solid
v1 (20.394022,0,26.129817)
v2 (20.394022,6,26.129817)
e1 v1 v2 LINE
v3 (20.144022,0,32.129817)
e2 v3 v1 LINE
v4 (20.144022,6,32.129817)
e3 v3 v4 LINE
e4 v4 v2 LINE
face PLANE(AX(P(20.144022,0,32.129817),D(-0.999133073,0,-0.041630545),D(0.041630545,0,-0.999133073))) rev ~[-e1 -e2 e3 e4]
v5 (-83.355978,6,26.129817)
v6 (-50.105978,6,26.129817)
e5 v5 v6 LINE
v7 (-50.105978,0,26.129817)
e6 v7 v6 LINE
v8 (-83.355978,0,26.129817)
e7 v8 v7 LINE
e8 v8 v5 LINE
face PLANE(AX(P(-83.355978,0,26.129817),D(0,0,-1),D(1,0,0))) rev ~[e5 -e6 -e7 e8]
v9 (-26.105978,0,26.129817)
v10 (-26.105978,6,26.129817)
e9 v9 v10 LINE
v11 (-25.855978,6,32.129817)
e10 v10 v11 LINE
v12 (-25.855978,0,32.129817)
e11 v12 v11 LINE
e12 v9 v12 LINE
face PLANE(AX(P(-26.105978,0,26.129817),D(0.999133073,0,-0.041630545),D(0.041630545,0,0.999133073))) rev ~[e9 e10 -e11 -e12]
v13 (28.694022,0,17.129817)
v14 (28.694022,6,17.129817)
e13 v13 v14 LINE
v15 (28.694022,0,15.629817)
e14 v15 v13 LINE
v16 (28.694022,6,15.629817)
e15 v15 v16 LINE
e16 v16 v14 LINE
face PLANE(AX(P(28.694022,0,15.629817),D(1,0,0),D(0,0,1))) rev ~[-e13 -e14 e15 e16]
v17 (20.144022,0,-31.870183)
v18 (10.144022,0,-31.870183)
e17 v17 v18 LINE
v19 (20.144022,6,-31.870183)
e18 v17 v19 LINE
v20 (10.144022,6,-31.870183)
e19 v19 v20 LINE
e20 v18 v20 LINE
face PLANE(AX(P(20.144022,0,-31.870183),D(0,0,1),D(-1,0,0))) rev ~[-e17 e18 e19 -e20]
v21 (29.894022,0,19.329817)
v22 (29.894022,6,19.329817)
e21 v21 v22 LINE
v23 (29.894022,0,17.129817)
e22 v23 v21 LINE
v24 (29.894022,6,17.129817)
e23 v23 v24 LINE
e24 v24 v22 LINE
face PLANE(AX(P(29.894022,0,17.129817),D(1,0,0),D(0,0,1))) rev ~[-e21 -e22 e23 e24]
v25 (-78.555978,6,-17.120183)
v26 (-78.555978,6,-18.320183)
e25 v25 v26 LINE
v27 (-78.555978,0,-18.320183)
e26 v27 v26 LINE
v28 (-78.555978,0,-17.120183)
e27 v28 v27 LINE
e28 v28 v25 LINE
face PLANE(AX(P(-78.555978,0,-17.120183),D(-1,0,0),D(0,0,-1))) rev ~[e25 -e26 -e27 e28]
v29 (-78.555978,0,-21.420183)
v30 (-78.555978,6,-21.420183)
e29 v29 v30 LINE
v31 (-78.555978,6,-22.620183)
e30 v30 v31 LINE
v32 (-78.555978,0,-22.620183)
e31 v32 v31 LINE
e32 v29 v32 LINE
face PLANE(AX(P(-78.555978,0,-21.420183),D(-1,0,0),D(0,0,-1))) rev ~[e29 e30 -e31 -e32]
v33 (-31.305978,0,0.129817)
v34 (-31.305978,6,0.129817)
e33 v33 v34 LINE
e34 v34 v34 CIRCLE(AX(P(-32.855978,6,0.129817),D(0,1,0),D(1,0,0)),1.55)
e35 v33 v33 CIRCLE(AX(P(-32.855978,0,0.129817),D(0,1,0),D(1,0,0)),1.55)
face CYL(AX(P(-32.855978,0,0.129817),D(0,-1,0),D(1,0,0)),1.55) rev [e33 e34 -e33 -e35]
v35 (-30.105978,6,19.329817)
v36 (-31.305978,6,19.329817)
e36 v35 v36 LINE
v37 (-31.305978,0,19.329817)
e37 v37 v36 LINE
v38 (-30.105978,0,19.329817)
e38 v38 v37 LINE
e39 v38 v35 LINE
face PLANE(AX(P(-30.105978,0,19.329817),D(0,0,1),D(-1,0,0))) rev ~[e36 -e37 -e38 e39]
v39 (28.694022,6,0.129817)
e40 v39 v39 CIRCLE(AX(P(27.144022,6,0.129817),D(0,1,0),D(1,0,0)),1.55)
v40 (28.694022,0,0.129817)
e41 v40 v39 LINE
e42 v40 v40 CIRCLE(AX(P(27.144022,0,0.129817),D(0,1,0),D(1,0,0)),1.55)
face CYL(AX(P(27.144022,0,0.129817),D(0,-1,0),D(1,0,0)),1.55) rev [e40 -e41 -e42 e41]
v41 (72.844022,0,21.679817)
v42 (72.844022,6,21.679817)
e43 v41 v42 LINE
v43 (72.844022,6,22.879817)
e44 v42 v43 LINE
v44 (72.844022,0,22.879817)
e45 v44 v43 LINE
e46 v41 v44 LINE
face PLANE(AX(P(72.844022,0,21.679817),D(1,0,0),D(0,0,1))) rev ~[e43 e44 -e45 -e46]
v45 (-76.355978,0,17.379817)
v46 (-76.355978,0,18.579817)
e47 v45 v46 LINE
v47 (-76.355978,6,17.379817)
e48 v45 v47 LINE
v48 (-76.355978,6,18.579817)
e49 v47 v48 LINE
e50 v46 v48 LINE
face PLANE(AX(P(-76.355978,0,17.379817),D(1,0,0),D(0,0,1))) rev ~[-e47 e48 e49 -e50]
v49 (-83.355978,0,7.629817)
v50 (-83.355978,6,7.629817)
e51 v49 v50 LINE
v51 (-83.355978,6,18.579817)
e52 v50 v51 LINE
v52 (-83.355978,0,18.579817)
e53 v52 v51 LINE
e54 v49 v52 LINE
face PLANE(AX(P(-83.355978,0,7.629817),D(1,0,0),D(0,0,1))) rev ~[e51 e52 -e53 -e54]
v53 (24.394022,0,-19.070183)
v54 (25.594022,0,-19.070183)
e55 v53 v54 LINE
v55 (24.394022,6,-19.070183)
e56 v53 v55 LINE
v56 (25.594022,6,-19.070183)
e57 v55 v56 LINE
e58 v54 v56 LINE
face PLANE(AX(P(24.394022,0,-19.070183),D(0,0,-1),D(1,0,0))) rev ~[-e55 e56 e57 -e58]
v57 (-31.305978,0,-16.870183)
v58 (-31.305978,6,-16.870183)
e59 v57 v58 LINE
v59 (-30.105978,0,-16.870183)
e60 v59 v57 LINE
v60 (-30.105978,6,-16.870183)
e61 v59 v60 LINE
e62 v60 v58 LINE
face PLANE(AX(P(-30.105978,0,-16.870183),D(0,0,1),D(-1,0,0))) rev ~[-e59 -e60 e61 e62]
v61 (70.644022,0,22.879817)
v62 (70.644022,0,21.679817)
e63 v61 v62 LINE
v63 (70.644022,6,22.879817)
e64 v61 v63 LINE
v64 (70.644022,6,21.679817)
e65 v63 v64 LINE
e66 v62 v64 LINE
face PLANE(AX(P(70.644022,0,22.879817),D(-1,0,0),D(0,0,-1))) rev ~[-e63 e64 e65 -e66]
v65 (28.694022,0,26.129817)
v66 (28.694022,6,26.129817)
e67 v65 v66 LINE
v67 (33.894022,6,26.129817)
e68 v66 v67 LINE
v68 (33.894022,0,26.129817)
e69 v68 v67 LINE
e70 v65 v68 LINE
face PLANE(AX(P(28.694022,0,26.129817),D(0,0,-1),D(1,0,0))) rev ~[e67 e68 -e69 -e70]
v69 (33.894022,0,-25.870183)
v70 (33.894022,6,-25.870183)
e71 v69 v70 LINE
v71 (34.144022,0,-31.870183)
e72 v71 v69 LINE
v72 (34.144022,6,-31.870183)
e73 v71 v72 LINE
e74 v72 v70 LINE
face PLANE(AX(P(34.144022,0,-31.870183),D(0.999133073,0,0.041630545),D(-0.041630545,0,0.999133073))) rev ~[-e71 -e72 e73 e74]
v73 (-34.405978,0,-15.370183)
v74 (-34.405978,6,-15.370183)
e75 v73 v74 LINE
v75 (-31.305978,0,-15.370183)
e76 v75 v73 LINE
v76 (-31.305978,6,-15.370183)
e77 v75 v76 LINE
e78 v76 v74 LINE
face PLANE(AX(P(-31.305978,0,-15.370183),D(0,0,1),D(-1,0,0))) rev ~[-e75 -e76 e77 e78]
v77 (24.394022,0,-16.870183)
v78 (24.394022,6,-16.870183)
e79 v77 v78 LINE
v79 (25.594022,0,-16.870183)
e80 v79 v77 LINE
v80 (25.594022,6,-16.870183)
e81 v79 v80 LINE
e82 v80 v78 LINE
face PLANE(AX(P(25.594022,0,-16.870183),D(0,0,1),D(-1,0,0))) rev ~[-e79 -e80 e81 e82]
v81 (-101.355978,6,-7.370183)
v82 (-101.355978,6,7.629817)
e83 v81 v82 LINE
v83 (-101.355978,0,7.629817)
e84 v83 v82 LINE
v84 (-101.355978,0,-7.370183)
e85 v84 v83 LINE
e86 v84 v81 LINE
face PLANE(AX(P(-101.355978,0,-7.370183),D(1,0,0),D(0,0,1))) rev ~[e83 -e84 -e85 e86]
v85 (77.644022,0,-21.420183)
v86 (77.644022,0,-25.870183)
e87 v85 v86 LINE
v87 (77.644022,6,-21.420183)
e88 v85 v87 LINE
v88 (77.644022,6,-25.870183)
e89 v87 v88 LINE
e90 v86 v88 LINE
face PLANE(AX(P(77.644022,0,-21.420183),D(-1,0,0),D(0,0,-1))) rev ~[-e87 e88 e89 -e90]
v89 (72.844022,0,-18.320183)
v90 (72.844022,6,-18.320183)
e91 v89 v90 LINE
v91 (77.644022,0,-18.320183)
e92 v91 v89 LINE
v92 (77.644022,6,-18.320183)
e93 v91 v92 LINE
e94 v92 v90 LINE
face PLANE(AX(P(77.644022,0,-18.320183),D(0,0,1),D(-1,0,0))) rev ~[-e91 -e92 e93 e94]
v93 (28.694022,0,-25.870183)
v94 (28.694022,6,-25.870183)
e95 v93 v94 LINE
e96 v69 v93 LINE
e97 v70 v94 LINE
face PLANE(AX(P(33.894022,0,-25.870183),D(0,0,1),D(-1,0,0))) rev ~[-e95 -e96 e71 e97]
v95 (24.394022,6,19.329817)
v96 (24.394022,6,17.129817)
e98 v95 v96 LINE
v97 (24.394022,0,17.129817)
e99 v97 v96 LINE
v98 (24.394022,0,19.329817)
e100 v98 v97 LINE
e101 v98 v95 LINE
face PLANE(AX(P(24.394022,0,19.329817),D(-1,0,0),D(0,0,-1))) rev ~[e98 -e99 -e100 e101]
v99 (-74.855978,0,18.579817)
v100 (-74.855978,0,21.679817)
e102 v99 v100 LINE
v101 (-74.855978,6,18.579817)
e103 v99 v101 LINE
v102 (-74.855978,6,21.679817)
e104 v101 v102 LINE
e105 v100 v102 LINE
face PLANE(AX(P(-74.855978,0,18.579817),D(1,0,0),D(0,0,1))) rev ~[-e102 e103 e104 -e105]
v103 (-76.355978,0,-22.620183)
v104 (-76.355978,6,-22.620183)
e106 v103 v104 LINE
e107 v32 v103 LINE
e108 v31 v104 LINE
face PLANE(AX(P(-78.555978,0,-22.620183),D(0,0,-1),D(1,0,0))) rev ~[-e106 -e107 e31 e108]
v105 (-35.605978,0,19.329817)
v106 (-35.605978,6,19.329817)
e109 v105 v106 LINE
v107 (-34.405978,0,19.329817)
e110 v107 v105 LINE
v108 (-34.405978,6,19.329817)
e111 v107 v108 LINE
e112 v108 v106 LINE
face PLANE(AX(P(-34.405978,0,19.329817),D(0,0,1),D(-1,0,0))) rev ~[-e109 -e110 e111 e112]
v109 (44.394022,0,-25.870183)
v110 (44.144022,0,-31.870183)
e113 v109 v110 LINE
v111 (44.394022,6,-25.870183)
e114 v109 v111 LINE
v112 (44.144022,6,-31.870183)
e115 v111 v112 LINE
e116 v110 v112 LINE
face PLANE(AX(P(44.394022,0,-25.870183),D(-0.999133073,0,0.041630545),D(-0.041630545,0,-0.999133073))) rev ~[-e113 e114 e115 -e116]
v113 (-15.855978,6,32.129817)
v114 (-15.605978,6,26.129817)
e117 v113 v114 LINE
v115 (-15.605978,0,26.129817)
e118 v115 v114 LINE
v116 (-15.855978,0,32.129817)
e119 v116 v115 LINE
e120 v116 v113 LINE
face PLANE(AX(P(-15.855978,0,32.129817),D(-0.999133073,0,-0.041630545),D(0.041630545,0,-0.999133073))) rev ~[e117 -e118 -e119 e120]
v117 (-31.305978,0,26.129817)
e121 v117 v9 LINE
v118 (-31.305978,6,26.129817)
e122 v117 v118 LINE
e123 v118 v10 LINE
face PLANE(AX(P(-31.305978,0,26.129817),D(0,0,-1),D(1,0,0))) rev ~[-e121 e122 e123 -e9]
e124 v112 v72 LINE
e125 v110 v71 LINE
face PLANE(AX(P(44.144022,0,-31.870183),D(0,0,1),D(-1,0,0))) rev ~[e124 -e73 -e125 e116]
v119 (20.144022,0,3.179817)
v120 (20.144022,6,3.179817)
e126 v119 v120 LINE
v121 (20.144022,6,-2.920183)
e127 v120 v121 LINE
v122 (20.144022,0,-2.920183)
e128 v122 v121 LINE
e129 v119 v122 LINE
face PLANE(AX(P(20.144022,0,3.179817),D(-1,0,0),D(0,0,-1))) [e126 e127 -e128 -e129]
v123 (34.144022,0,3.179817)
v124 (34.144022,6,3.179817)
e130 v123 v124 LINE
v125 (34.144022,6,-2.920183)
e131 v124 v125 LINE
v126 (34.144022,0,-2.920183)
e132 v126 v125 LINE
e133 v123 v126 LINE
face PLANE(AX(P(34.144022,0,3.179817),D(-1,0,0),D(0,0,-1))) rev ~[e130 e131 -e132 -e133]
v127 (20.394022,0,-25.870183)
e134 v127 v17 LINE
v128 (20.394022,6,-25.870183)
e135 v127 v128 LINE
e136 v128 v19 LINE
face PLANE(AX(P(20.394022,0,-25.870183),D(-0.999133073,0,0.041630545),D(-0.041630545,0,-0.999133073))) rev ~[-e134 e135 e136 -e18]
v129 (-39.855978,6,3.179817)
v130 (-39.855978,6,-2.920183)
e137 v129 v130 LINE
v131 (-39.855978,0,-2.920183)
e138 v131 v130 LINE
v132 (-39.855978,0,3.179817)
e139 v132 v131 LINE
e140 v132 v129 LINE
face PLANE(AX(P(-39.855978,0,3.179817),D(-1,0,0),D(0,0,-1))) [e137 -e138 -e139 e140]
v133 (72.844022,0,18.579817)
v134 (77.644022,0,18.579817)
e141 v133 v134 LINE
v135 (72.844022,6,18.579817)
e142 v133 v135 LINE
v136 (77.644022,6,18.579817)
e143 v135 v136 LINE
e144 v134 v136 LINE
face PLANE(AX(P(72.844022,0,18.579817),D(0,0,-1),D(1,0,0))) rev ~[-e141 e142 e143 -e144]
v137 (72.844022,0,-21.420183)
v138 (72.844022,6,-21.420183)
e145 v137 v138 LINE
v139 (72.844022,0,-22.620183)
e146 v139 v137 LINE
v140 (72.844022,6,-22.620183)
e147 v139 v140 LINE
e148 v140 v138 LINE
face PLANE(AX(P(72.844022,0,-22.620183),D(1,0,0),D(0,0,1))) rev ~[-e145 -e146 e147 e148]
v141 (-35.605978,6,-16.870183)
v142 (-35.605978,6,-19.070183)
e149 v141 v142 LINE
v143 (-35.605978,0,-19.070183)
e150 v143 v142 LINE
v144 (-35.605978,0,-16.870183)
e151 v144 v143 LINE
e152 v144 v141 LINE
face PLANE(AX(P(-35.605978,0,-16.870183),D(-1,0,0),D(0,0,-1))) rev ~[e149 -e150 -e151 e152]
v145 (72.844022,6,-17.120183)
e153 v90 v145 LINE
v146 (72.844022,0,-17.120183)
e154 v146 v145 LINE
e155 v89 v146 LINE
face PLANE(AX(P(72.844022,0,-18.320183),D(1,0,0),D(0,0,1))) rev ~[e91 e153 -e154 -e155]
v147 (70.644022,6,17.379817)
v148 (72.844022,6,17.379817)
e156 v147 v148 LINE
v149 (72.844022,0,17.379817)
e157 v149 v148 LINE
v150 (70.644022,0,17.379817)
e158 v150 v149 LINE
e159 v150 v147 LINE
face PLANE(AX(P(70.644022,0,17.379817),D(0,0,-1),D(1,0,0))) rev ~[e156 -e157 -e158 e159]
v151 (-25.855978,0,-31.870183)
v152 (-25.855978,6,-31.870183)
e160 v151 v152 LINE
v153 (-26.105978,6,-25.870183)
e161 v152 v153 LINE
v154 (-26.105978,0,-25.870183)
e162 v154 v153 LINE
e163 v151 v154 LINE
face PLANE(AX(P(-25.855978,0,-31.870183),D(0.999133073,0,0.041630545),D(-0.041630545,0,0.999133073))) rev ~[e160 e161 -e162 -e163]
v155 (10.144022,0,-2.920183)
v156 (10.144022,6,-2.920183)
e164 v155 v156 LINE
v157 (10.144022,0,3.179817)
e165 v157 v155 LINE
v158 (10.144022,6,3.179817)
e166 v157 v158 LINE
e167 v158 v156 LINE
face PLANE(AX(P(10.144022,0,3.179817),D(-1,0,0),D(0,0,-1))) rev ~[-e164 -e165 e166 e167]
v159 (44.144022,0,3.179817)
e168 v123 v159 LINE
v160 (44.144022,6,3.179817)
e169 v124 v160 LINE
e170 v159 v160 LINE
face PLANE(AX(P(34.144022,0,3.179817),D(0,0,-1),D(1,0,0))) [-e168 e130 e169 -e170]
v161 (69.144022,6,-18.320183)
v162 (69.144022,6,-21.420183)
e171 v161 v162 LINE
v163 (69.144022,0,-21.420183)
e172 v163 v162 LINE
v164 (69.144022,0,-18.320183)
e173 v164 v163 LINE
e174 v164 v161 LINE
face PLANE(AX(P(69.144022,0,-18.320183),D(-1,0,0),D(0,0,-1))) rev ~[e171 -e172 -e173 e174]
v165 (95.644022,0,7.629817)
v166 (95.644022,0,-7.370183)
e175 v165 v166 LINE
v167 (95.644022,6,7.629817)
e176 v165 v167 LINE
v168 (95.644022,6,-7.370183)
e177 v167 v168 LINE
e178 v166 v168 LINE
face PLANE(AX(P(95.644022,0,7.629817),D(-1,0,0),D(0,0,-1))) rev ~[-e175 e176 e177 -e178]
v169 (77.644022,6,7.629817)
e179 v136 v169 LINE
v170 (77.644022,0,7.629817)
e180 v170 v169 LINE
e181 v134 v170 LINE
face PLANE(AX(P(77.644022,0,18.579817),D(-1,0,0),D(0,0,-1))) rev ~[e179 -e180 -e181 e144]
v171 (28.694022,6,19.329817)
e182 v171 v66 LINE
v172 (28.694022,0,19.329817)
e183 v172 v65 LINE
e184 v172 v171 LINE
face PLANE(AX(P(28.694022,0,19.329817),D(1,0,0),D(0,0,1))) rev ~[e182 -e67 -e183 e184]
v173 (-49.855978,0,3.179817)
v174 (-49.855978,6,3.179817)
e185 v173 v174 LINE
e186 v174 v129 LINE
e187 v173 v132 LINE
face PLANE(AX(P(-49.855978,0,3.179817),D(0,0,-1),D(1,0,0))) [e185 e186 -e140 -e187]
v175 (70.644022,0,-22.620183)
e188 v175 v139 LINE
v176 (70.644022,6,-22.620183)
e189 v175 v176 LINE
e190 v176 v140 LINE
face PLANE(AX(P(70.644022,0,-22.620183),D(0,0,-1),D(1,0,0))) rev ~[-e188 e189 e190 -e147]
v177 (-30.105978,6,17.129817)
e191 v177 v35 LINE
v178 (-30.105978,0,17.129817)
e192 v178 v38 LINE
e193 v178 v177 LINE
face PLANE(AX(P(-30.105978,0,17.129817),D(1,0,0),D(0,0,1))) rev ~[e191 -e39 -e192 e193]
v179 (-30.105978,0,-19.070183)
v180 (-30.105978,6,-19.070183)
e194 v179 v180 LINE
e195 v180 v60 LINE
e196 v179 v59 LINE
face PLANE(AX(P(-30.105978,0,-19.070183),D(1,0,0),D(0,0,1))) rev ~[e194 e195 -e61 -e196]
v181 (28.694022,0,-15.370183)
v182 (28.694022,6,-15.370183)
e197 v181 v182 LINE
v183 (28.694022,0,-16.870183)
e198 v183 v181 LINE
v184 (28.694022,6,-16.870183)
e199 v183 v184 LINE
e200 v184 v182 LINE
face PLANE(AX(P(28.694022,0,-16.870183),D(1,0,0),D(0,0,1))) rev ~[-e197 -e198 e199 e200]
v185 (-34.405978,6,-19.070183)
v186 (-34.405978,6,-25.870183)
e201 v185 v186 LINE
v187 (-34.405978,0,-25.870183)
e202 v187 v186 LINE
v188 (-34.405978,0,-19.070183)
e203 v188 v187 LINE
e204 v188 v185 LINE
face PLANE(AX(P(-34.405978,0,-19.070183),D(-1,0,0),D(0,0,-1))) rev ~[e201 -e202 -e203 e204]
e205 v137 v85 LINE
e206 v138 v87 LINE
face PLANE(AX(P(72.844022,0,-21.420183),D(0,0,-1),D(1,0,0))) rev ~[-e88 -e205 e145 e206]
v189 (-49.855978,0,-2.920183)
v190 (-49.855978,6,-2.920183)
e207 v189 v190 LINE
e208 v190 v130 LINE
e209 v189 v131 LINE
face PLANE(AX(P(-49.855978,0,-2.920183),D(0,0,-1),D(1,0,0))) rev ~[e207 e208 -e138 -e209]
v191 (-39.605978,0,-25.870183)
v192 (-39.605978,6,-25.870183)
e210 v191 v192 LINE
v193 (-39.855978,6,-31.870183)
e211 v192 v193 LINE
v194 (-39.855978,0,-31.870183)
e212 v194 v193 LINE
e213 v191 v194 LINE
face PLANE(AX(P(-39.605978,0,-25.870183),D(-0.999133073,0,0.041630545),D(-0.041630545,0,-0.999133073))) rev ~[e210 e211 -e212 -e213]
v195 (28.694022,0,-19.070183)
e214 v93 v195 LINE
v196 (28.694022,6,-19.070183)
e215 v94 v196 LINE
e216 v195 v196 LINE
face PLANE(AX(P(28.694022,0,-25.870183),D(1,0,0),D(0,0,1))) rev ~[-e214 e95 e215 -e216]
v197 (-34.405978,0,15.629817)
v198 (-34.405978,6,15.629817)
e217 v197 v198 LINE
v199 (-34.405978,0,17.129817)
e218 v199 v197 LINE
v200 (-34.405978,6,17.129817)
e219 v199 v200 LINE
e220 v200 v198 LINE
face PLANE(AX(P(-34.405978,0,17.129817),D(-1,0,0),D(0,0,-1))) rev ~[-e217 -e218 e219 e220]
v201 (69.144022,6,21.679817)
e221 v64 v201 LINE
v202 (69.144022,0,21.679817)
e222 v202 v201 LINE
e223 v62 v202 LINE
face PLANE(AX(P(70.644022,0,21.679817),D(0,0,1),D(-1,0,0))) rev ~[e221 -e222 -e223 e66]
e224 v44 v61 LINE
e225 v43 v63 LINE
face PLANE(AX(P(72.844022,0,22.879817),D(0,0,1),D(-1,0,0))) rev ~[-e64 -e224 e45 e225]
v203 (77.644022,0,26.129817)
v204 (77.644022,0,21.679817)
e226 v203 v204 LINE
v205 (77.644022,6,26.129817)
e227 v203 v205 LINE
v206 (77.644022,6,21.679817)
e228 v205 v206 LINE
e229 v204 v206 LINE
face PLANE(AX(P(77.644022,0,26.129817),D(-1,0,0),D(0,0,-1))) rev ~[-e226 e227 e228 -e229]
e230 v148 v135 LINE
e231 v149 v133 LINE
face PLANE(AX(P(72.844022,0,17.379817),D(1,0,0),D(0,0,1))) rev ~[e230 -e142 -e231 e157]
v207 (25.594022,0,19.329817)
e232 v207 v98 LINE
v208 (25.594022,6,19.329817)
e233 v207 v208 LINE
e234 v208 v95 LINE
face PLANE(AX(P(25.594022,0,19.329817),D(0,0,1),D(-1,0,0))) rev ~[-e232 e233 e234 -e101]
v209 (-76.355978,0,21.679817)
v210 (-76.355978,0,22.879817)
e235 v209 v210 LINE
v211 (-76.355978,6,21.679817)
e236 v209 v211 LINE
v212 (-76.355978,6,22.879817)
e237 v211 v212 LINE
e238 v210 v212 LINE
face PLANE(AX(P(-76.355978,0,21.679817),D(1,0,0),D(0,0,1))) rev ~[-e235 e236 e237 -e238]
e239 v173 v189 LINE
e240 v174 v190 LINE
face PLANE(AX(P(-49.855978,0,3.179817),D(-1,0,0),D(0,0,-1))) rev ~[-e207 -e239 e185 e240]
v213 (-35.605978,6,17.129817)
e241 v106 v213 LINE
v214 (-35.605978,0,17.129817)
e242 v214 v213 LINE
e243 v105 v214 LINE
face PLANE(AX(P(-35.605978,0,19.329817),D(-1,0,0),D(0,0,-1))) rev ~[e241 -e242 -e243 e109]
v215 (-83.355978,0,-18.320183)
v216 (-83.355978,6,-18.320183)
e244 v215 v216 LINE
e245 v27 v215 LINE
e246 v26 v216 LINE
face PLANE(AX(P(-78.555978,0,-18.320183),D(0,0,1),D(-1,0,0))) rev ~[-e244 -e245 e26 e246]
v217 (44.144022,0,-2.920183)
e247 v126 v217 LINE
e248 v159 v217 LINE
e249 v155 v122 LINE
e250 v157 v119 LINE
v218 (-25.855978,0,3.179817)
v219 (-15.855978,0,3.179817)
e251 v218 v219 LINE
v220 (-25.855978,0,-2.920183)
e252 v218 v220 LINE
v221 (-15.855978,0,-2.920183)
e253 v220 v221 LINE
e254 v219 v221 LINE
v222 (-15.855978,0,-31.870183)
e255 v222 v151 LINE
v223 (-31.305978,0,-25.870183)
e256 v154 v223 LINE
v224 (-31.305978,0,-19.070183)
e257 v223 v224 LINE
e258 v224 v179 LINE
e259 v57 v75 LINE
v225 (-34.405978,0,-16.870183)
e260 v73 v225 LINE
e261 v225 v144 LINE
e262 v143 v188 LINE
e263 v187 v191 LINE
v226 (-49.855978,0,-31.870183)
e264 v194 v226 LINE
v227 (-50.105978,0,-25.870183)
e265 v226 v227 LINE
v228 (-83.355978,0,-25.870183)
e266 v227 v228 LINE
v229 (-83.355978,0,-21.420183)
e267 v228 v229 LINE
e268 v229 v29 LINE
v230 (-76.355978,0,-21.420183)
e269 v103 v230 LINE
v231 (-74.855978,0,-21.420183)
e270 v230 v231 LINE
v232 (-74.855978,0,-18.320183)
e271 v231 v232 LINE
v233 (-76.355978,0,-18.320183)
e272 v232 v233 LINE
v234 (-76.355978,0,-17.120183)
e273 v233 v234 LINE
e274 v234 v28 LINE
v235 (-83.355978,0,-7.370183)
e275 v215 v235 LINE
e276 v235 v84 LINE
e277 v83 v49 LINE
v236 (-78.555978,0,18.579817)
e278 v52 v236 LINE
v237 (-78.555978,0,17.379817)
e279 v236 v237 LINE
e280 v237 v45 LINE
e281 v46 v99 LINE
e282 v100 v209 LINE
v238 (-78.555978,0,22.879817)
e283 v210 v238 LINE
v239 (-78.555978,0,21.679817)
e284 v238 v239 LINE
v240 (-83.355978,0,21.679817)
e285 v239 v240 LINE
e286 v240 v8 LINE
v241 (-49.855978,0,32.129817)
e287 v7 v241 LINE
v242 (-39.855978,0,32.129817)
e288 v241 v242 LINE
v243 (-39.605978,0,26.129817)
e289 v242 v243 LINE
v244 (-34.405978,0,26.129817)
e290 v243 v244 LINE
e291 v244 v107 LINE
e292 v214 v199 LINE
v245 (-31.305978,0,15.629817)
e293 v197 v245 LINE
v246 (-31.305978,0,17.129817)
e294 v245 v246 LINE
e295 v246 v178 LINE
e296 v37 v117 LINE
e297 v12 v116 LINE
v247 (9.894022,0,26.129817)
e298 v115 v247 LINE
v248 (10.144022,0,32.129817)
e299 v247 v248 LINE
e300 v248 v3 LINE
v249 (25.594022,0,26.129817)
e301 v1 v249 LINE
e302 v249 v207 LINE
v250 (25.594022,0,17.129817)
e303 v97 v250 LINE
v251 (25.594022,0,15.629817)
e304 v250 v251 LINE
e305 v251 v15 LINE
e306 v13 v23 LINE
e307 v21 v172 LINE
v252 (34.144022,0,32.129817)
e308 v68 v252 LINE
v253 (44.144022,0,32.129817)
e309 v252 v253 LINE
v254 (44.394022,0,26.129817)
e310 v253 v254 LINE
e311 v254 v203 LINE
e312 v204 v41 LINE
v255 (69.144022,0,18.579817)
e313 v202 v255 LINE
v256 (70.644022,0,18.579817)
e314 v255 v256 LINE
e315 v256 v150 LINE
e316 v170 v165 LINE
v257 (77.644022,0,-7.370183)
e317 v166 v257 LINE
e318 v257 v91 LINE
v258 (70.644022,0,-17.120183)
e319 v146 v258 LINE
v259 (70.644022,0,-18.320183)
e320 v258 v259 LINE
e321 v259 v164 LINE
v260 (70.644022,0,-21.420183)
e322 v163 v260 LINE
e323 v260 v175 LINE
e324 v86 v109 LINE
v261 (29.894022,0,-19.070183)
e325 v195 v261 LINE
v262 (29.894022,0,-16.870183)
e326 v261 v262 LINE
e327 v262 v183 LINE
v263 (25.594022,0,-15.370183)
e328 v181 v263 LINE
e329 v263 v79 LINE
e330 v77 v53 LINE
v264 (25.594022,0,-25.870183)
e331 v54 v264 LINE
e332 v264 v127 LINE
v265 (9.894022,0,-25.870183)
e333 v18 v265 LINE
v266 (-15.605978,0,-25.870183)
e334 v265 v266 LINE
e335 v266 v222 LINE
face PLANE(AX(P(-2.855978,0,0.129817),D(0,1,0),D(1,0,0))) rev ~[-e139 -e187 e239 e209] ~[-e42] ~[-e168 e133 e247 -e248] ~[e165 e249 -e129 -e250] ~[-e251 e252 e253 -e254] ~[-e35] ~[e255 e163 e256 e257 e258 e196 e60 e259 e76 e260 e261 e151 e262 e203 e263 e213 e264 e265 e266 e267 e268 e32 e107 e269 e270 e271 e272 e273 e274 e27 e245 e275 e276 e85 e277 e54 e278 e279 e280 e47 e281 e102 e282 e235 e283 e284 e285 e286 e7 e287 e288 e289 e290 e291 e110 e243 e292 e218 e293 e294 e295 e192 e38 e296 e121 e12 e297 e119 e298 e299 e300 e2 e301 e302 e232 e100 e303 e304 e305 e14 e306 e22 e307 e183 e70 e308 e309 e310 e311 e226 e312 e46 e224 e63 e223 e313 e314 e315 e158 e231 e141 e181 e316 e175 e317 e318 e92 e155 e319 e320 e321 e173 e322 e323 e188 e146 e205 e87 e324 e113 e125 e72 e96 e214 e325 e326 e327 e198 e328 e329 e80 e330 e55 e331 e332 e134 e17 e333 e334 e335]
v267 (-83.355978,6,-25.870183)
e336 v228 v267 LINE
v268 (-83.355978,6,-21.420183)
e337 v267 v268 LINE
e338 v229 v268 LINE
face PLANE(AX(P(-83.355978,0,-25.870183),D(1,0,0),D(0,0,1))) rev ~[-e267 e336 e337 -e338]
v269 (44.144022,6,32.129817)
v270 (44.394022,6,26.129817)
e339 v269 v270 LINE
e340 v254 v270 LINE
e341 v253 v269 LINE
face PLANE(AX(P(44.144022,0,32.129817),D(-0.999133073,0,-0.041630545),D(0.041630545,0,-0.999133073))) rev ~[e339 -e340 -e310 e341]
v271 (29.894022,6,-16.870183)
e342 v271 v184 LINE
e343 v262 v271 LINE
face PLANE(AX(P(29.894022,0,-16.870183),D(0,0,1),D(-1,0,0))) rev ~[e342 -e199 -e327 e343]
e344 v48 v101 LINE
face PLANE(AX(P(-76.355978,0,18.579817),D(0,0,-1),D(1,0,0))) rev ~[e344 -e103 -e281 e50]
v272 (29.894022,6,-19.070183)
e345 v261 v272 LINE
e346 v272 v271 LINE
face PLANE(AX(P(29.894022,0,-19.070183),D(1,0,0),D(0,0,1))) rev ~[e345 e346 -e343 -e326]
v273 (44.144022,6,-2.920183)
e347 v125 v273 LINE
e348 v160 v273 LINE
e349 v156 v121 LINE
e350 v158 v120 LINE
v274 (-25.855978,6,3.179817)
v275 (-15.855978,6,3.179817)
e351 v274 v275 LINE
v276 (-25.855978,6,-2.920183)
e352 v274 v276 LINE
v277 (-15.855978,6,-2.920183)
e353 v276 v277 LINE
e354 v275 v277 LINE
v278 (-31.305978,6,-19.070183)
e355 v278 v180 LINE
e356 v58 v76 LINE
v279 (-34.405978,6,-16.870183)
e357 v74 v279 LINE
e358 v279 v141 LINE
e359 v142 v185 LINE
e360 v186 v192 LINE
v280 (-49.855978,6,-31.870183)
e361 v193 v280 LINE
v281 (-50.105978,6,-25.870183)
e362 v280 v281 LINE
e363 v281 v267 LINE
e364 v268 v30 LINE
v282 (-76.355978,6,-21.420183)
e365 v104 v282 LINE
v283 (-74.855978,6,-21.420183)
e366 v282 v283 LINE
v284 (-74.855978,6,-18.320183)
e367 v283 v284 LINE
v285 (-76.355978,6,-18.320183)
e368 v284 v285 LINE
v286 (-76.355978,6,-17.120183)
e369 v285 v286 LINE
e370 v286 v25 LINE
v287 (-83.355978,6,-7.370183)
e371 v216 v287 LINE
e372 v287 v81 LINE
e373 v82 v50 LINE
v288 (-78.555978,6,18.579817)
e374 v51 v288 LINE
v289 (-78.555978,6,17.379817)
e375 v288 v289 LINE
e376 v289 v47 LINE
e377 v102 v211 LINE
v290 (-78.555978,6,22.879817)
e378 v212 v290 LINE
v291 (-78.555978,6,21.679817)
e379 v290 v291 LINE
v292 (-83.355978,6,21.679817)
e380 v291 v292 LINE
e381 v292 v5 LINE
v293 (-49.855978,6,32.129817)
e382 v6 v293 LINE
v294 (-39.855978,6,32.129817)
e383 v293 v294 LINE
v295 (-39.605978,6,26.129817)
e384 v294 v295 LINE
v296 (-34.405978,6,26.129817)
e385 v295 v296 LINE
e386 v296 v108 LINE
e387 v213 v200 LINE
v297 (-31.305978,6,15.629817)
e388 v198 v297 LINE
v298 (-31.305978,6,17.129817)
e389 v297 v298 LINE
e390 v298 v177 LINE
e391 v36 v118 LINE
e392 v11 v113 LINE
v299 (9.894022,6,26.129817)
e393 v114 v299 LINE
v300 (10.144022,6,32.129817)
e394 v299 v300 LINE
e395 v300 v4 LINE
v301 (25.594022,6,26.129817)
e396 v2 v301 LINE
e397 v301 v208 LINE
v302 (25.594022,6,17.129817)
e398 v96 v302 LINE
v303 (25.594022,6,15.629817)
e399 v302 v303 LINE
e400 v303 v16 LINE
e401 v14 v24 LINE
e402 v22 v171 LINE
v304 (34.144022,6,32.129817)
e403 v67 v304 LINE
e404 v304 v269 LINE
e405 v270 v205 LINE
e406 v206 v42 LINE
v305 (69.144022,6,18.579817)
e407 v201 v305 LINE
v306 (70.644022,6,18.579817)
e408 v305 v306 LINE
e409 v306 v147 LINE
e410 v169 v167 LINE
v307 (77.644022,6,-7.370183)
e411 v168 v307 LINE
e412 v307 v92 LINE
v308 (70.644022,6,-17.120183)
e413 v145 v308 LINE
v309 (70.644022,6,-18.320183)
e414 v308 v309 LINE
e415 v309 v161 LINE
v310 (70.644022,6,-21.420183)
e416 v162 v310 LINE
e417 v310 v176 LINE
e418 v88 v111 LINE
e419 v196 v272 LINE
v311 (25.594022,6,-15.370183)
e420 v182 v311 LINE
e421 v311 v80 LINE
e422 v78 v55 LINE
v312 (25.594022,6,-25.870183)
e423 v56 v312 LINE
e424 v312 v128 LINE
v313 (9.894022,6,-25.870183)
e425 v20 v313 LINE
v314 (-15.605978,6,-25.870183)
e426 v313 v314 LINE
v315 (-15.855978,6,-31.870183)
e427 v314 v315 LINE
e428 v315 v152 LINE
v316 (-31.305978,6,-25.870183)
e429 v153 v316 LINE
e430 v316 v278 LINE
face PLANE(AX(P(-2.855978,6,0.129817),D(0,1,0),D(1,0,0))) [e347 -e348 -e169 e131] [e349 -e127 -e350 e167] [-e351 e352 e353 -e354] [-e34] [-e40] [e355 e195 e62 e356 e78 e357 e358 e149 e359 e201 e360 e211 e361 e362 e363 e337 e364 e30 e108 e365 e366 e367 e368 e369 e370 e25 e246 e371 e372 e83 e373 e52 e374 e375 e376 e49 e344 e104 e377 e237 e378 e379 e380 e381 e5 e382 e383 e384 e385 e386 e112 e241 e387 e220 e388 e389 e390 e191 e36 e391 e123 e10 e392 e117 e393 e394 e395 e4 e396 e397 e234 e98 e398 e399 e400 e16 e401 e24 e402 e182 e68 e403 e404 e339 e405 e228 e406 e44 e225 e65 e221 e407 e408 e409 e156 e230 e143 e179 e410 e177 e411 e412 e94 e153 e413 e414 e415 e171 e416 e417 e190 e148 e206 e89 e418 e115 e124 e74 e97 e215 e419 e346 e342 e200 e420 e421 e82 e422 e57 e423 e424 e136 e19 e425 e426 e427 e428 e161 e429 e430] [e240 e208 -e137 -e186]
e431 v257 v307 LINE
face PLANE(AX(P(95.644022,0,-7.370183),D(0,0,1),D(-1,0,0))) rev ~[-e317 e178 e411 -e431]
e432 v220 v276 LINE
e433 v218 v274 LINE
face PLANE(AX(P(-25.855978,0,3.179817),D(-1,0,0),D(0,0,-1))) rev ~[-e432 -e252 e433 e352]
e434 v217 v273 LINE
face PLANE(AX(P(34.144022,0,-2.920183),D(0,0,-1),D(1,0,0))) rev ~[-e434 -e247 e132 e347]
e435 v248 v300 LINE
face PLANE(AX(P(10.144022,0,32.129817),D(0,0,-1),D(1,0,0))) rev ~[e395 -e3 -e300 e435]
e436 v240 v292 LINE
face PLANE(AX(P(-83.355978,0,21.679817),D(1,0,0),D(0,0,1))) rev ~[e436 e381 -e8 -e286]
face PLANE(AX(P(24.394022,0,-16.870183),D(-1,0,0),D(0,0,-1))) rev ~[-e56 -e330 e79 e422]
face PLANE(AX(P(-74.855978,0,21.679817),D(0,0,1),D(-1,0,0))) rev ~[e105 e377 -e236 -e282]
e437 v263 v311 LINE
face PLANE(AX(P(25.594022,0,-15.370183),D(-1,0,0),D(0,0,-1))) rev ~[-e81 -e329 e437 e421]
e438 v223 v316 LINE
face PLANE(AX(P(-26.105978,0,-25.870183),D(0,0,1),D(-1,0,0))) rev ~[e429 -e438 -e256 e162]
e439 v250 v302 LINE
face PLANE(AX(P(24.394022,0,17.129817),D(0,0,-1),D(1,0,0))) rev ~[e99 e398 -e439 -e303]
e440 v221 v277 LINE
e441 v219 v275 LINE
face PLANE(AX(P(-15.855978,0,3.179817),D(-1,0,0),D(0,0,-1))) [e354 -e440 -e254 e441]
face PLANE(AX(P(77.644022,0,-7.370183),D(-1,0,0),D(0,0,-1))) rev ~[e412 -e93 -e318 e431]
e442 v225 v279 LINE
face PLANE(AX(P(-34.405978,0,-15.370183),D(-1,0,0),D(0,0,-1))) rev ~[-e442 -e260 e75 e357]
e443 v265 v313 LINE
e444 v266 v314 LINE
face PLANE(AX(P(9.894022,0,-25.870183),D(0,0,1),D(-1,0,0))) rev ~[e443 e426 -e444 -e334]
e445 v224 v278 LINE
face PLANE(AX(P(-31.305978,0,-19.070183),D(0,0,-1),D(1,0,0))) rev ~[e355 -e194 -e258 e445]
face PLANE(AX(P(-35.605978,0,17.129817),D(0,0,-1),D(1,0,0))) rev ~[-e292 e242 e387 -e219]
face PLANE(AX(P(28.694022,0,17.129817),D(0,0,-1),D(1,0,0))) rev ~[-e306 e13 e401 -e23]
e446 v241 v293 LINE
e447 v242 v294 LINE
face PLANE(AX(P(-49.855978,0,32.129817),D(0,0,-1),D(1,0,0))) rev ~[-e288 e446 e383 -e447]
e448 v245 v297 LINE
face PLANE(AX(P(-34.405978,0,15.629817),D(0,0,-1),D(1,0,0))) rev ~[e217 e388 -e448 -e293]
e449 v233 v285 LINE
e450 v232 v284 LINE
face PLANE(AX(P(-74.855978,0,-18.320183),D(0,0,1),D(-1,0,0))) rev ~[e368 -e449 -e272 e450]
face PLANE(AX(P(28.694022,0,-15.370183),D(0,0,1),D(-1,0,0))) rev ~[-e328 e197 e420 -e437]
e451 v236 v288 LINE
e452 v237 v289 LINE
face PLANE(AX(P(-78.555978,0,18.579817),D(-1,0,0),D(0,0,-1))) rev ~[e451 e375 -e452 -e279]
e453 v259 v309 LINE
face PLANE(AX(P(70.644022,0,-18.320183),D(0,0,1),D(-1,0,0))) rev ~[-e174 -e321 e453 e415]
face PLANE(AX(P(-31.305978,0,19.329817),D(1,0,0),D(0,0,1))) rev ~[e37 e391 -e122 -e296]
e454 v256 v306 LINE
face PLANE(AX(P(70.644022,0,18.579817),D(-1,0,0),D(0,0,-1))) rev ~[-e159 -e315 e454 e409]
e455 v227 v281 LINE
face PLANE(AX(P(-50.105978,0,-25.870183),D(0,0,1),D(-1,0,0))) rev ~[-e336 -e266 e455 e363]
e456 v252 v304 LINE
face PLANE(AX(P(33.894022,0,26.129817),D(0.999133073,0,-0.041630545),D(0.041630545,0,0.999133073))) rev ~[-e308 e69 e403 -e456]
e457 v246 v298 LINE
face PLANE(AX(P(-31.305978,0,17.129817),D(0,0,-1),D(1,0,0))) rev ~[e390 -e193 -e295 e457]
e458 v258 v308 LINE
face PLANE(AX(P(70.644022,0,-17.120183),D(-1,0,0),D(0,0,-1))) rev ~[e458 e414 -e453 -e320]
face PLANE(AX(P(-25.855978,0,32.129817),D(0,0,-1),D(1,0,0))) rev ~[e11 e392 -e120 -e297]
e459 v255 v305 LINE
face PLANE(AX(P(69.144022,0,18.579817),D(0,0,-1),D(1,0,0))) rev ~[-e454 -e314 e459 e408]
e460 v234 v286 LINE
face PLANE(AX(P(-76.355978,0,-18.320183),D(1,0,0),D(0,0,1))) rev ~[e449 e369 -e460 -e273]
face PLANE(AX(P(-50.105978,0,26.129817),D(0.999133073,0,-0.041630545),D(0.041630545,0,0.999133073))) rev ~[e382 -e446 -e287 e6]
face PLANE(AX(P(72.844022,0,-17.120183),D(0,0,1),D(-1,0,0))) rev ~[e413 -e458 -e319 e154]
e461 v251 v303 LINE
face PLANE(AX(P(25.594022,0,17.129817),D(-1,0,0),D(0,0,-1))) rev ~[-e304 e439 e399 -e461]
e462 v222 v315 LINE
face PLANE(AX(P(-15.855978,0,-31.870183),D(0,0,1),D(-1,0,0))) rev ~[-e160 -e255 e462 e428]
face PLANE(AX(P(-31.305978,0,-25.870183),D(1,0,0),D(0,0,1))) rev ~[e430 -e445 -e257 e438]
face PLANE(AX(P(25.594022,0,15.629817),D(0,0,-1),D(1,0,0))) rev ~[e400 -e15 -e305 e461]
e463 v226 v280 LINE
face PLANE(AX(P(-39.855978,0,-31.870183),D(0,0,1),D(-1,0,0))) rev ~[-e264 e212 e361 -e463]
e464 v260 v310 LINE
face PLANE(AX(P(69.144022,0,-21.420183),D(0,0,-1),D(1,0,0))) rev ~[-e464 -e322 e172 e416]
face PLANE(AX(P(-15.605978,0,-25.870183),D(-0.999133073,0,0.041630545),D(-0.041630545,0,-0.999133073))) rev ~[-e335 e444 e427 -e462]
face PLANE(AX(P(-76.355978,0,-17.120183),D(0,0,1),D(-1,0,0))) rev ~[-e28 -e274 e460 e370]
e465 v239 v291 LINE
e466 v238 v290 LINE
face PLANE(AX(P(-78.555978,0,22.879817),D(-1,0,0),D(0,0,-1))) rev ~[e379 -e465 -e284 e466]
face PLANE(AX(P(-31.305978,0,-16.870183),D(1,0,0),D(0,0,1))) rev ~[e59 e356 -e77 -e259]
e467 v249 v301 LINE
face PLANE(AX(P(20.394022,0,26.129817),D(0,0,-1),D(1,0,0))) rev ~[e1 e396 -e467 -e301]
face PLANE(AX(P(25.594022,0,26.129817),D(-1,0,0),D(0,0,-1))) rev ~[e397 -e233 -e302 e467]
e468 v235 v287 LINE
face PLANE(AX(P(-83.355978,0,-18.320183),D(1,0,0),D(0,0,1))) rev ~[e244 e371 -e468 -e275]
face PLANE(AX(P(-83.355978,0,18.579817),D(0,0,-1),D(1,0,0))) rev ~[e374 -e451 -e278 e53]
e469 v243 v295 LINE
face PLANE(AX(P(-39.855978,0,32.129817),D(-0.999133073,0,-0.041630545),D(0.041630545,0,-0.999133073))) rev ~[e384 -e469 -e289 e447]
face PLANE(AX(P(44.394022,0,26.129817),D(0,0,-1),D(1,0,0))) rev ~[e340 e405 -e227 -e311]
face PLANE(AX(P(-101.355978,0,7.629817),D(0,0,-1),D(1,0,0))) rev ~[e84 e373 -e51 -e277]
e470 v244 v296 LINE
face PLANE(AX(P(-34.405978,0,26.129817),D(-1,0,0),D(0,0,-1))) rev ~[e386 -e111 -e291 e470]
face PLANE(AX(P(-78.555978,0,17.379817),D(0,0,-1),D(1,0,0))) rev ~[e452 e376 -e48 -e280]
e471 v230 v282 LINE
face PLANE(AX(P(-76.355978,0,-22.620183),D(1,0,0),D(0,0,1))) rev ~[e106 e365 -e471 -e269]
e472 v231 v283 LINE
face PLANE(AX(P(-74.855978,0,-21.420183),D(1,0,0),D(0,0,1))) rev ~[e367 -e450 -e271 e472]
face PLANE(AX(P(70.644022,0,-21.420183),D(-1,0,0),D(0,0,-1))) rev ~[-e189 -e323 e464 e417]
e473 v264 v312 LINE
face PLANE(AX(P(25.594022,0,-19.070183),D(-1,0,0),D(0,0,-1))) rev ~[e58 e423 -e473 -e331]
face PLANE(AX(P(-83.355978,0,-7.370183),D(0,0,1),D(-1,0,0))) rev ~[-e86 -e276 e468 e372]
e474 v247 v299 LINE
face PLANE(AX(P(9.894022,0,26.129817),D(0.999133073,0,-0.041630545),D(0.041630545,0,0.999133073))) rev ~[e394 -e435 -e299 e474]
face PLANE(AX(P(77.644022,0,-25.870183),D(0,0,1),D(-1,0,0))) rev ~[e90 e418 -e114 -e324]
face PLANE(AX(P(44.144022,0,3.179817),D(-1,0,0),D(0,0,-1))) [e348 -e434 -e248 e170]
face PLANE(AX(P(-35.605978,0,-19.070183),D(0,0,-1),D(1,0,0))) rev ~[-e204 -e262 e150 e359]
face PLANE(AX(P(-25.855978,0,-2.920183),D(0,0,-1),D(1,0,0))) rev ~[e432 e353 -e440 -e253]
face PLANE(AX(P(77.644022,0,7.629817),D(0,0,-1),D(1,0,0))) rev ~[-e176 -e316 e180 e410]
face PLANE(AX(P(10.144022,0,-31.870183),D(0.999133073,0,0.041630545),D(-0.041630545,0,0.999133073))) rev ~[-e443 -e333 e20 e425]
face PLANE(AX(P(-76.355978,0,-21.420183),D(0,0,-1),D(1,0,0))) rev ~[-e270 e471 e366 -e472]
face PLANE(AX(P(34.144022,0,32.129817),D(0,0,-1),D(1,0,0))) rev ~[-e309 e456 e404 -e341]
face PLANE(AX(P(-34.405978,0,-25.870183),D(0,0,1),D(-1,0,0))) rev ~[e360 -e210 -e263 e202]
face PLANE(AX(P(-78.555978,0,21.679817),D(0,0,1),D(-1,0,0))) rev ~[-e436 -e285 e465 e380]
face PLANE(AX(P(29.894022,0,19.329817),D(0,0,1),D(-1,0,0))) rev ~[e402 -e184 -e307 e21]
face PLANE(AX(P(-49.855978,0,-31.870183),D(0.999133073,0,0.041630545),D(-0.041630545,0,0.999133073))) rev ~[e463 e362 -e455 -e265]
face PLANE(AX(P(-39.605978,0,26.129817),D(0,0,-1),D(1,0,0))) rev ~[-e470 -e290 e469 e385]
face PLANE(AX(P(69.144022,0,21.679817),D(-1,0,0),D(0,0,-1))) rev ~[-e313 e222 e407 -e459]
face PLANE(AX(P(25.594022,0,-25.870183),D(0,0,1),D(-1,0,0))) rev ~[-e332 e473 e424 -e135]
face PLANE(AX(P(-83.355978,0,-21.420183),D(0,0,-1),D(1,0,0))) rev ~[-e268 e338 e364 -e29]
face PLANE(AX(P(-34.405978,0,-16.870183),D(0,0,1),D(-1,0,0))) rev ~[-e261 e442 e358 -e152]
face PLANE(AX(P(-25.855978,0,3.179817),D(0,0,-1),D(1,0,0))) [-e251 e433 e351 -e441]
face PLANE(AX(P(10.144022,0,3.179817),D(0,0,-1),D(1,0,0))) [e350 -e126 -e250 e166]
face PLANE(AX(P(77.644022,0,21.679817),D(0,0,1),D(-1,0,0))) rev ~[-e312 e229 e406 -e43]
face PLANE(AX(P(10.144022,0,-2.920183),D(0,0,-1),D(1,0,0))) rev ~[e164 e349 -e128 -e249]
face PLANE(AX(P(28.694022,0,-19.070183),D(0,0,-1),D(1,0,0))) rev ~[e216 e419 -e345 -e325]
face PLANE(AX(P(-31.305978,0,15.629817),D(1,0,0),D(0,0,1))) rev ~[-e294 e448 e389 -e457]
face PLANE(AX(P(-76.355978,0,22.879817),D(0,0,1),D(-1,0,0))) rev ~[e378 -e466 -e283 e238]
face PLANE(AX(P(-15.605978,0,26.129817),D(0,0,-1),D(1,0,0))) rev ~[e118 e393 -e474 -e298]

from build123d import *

# Parameters (mm, degrees)
SKETCH_1_R      = 1.55
SKETCH_1_W      = 10
SKETCH_1_H      = 6.1
EXTRUDE_1_DEPTH = 6


with BuildPart() as part:
    # Эскиз1 → Бобышка-Вытянуть1 (new body)
    with BuildSketch(Plane(origin=(0, 0, 0), x_dir=(1, 0, 0), z_dir=(0, 1, 0))):
        Polygon((10.144022003, 31.870182818), (9.894022003, 25.870182818), (-15.605977997, 25.870182818), (-15.855977997, 31.870182818), (-25.855977997, 31.870182818), (-26.105977997, 25.870182818), (-31.305977997, 25.870182818), (-31.305977997, 19.070182818), (-30.105977997, 19.070182818), (-30.105977997, 16.870182818), (-31.305977997, 16.870182818), (-31.305977997, 15.370182818), (-34.405977997, 15.370182818), (-34.405977997, 16.870182818), (-35.605977997, 16.870182818), (-35.605977997, 19.070182818), (-34.405977997, 19.070182818), (-34.405977997, 25.870182818), (-39.605977997, 25.870182818), (-39.855977997, 31.870182818), (-49.855977997, 31.870182818), (-50.105977997, 25.870182818), (-83.355977997, 25.870182818), (-83.355977997, 21.420182818), (-78.555977997, 21.420182818), (-78.555977997, 22.620182818), (-76.355977997, 22.620182818), (-76.355977997, 21.420182818), (-74.855977997, 21.420182818), (-74.855977997, 18.320182818), (-76.355977997, 18.320182818), (-76.355977997, 17.120182818), (-78.555977997, 17.120182818), (-78.555977997, 18.320182818), (-83.355977997, 18.320182818), (-83.355977997, 7.370182818), (-101.355977997, 7.370182818), (-101.355977997, -7.629817182), (-83.355977997, -7.629817182), (-83.355977997, -18.579817182), (-78.555977997, -18.579817182), (-78.555977997, -17.379817182), (-76.355977997, -17.379817182), (-76.355977997, -18.579817182), (-74.855977997, -18.579817182), (-74.855977997, -21.679817182), (-76.355977997, -21.679817182), (-76.355977997, -22.879817182), (-78.555977997, -22.879817182), (-78.555977997, -21.679817182), (-83.355977997, -21.679817182), (-83.355977997, -26.129817182), (-50.105977997, -26.129817182), (-49.855977997, -32.129817182), (-39.855977997, -32.129817182), (-39.605977997, -26.129817182), (-34.405977997, -26.129817182), (-34.405977997, -19.329817182), (-35.605977997, -19.329817182), (-35.605977997, -17.129817182), (-34.405977997, -17.129817182), (-34.405977997, -15.629817182), (-31.305977997, -15.629817182), (-31.305977997, -17.129817182), (-30.105977997, -17.129817182), (-30.105977997, -19.329817182), (-31.305977997, -19.329817182), (-31.305977997, -26.129817182), (-26.105977997, -26.129817182), (-25.855977997, -32.129817182), (-15.855977997, -32.129817182), (-15.605977997, -26.129817182), (9.894022003, -26.129817182), (10.144022003, -32.129817182), (20.144022003, -32.129817182), (20.394022003, -26.129817182), (25.594022003, -26.129817182), (25.594022003, -19.329817182), (24.394022003, -19.329817182), (24.394022003, -17.129817182), (25.594022003, -17.129817182), (25.594022003, -15.629817182), (28.694022003, -15.629817182), (28.694022003, -17.129817182), (29.894022003, -17.129817182), (29.894022003, -19.329817182), (28.694022003, -19.329817182), (28.694022003, -26.129817182), (33.894022003, -26.129817182), (34.144022003, -32.129817182), (44.144022003, -32.129817182), (44.394022003, -26.129817182), (77.644022003, -26.129817182), (77.644022003, -21.679817182), (72.844022003, -21.679817182), (72.844022003, -22.879817182), (70.644022003, -22.879817182), (70.644022003, -21.679817182), (69.144022003, -21.679817182), (69.144022003, -18.579817182), (70.644022003, -18.579817182), (70.644022003, -17.379817182), (72.844022003, -17.379817182), (72.844022003, -18.579817182), (77.644022003, -18.579817182), (77.644022003, -7.629817182), (95.644022003, -7.629817182), (95.644022003, 7.370182818), (77.644022003, 7.370182818), (77.644022003, 18.320182818), (72.844022003, 18.320182818), (72.844022003, 17.120182818), (70.644022003, 17.120182818), (70.644022003, 18.320182818), (69.144022003, 18.320182818), (69.144022003, 21.420182818), (70.644022003, 21.420182818), (70.644022003, 22.620182818), (72.844022003, 22.620182818), (72.844022003, 21.420182818), (77.644022003, 21.420182818), (77.644022003, 25.870182818), (44.394022003, 25.870182818), (44.144022003, 31.870182818), (34.144022003, 31.870182818), (33.894022003, 25.870182818), (28.694022003, 25.870182818), (28.694022003, 19.070182818), (29.894022003, 19.070182818), (29.894022003, 16.870182818), (28.694022003, 16.870182818), (28.694022003, 15.370182818), (25.594022003, 15.370182818), (25.594022003, 16.870182818), (24.394022003, 16.870182818), (24.394022003, 19.070182818), (25.594022003, 19.070182818), (25.594022003, 25.870182818), (20.394022003, 25.870182818), (20.144022003, 31.870182818), align=None)
        with Locations((-32.855977997, -0.129817182)):
            Circle(SKETCH_1_R, mode=Mode.SUBTRACT)
        with Locations((27.144022003, -0.129817182)):
            Circle(SKETCH_1_R, mode=Mode.SUBTRACT)
        with Locations((-20.855977997, -0.129817182)):
            Rectangle(SKETCH_1_W, SKETCH_1_H, mode=Mode.SUBTRACT)
        with Locations((-44.855977997, -0.129817182)):
            Rectangle(SKETCH_1_W, SKETCH_1_H, mode=Mode.SUBTRACT)
        with Locations((15.144022003, -0.129817182)):
            Rectangle(SKETCH_1_W, SKETCH_1_H, mode=Mode.SUBTRACT)
        with Locations((39.144022003, -0.129817182)):
            Rectangle(SKETCH_1_W, SKETCH_1_H, mode=Mode.SUBTRACT)
    extrude(amount=EXTRUDE_1_DEPTH)


solid = part.part
